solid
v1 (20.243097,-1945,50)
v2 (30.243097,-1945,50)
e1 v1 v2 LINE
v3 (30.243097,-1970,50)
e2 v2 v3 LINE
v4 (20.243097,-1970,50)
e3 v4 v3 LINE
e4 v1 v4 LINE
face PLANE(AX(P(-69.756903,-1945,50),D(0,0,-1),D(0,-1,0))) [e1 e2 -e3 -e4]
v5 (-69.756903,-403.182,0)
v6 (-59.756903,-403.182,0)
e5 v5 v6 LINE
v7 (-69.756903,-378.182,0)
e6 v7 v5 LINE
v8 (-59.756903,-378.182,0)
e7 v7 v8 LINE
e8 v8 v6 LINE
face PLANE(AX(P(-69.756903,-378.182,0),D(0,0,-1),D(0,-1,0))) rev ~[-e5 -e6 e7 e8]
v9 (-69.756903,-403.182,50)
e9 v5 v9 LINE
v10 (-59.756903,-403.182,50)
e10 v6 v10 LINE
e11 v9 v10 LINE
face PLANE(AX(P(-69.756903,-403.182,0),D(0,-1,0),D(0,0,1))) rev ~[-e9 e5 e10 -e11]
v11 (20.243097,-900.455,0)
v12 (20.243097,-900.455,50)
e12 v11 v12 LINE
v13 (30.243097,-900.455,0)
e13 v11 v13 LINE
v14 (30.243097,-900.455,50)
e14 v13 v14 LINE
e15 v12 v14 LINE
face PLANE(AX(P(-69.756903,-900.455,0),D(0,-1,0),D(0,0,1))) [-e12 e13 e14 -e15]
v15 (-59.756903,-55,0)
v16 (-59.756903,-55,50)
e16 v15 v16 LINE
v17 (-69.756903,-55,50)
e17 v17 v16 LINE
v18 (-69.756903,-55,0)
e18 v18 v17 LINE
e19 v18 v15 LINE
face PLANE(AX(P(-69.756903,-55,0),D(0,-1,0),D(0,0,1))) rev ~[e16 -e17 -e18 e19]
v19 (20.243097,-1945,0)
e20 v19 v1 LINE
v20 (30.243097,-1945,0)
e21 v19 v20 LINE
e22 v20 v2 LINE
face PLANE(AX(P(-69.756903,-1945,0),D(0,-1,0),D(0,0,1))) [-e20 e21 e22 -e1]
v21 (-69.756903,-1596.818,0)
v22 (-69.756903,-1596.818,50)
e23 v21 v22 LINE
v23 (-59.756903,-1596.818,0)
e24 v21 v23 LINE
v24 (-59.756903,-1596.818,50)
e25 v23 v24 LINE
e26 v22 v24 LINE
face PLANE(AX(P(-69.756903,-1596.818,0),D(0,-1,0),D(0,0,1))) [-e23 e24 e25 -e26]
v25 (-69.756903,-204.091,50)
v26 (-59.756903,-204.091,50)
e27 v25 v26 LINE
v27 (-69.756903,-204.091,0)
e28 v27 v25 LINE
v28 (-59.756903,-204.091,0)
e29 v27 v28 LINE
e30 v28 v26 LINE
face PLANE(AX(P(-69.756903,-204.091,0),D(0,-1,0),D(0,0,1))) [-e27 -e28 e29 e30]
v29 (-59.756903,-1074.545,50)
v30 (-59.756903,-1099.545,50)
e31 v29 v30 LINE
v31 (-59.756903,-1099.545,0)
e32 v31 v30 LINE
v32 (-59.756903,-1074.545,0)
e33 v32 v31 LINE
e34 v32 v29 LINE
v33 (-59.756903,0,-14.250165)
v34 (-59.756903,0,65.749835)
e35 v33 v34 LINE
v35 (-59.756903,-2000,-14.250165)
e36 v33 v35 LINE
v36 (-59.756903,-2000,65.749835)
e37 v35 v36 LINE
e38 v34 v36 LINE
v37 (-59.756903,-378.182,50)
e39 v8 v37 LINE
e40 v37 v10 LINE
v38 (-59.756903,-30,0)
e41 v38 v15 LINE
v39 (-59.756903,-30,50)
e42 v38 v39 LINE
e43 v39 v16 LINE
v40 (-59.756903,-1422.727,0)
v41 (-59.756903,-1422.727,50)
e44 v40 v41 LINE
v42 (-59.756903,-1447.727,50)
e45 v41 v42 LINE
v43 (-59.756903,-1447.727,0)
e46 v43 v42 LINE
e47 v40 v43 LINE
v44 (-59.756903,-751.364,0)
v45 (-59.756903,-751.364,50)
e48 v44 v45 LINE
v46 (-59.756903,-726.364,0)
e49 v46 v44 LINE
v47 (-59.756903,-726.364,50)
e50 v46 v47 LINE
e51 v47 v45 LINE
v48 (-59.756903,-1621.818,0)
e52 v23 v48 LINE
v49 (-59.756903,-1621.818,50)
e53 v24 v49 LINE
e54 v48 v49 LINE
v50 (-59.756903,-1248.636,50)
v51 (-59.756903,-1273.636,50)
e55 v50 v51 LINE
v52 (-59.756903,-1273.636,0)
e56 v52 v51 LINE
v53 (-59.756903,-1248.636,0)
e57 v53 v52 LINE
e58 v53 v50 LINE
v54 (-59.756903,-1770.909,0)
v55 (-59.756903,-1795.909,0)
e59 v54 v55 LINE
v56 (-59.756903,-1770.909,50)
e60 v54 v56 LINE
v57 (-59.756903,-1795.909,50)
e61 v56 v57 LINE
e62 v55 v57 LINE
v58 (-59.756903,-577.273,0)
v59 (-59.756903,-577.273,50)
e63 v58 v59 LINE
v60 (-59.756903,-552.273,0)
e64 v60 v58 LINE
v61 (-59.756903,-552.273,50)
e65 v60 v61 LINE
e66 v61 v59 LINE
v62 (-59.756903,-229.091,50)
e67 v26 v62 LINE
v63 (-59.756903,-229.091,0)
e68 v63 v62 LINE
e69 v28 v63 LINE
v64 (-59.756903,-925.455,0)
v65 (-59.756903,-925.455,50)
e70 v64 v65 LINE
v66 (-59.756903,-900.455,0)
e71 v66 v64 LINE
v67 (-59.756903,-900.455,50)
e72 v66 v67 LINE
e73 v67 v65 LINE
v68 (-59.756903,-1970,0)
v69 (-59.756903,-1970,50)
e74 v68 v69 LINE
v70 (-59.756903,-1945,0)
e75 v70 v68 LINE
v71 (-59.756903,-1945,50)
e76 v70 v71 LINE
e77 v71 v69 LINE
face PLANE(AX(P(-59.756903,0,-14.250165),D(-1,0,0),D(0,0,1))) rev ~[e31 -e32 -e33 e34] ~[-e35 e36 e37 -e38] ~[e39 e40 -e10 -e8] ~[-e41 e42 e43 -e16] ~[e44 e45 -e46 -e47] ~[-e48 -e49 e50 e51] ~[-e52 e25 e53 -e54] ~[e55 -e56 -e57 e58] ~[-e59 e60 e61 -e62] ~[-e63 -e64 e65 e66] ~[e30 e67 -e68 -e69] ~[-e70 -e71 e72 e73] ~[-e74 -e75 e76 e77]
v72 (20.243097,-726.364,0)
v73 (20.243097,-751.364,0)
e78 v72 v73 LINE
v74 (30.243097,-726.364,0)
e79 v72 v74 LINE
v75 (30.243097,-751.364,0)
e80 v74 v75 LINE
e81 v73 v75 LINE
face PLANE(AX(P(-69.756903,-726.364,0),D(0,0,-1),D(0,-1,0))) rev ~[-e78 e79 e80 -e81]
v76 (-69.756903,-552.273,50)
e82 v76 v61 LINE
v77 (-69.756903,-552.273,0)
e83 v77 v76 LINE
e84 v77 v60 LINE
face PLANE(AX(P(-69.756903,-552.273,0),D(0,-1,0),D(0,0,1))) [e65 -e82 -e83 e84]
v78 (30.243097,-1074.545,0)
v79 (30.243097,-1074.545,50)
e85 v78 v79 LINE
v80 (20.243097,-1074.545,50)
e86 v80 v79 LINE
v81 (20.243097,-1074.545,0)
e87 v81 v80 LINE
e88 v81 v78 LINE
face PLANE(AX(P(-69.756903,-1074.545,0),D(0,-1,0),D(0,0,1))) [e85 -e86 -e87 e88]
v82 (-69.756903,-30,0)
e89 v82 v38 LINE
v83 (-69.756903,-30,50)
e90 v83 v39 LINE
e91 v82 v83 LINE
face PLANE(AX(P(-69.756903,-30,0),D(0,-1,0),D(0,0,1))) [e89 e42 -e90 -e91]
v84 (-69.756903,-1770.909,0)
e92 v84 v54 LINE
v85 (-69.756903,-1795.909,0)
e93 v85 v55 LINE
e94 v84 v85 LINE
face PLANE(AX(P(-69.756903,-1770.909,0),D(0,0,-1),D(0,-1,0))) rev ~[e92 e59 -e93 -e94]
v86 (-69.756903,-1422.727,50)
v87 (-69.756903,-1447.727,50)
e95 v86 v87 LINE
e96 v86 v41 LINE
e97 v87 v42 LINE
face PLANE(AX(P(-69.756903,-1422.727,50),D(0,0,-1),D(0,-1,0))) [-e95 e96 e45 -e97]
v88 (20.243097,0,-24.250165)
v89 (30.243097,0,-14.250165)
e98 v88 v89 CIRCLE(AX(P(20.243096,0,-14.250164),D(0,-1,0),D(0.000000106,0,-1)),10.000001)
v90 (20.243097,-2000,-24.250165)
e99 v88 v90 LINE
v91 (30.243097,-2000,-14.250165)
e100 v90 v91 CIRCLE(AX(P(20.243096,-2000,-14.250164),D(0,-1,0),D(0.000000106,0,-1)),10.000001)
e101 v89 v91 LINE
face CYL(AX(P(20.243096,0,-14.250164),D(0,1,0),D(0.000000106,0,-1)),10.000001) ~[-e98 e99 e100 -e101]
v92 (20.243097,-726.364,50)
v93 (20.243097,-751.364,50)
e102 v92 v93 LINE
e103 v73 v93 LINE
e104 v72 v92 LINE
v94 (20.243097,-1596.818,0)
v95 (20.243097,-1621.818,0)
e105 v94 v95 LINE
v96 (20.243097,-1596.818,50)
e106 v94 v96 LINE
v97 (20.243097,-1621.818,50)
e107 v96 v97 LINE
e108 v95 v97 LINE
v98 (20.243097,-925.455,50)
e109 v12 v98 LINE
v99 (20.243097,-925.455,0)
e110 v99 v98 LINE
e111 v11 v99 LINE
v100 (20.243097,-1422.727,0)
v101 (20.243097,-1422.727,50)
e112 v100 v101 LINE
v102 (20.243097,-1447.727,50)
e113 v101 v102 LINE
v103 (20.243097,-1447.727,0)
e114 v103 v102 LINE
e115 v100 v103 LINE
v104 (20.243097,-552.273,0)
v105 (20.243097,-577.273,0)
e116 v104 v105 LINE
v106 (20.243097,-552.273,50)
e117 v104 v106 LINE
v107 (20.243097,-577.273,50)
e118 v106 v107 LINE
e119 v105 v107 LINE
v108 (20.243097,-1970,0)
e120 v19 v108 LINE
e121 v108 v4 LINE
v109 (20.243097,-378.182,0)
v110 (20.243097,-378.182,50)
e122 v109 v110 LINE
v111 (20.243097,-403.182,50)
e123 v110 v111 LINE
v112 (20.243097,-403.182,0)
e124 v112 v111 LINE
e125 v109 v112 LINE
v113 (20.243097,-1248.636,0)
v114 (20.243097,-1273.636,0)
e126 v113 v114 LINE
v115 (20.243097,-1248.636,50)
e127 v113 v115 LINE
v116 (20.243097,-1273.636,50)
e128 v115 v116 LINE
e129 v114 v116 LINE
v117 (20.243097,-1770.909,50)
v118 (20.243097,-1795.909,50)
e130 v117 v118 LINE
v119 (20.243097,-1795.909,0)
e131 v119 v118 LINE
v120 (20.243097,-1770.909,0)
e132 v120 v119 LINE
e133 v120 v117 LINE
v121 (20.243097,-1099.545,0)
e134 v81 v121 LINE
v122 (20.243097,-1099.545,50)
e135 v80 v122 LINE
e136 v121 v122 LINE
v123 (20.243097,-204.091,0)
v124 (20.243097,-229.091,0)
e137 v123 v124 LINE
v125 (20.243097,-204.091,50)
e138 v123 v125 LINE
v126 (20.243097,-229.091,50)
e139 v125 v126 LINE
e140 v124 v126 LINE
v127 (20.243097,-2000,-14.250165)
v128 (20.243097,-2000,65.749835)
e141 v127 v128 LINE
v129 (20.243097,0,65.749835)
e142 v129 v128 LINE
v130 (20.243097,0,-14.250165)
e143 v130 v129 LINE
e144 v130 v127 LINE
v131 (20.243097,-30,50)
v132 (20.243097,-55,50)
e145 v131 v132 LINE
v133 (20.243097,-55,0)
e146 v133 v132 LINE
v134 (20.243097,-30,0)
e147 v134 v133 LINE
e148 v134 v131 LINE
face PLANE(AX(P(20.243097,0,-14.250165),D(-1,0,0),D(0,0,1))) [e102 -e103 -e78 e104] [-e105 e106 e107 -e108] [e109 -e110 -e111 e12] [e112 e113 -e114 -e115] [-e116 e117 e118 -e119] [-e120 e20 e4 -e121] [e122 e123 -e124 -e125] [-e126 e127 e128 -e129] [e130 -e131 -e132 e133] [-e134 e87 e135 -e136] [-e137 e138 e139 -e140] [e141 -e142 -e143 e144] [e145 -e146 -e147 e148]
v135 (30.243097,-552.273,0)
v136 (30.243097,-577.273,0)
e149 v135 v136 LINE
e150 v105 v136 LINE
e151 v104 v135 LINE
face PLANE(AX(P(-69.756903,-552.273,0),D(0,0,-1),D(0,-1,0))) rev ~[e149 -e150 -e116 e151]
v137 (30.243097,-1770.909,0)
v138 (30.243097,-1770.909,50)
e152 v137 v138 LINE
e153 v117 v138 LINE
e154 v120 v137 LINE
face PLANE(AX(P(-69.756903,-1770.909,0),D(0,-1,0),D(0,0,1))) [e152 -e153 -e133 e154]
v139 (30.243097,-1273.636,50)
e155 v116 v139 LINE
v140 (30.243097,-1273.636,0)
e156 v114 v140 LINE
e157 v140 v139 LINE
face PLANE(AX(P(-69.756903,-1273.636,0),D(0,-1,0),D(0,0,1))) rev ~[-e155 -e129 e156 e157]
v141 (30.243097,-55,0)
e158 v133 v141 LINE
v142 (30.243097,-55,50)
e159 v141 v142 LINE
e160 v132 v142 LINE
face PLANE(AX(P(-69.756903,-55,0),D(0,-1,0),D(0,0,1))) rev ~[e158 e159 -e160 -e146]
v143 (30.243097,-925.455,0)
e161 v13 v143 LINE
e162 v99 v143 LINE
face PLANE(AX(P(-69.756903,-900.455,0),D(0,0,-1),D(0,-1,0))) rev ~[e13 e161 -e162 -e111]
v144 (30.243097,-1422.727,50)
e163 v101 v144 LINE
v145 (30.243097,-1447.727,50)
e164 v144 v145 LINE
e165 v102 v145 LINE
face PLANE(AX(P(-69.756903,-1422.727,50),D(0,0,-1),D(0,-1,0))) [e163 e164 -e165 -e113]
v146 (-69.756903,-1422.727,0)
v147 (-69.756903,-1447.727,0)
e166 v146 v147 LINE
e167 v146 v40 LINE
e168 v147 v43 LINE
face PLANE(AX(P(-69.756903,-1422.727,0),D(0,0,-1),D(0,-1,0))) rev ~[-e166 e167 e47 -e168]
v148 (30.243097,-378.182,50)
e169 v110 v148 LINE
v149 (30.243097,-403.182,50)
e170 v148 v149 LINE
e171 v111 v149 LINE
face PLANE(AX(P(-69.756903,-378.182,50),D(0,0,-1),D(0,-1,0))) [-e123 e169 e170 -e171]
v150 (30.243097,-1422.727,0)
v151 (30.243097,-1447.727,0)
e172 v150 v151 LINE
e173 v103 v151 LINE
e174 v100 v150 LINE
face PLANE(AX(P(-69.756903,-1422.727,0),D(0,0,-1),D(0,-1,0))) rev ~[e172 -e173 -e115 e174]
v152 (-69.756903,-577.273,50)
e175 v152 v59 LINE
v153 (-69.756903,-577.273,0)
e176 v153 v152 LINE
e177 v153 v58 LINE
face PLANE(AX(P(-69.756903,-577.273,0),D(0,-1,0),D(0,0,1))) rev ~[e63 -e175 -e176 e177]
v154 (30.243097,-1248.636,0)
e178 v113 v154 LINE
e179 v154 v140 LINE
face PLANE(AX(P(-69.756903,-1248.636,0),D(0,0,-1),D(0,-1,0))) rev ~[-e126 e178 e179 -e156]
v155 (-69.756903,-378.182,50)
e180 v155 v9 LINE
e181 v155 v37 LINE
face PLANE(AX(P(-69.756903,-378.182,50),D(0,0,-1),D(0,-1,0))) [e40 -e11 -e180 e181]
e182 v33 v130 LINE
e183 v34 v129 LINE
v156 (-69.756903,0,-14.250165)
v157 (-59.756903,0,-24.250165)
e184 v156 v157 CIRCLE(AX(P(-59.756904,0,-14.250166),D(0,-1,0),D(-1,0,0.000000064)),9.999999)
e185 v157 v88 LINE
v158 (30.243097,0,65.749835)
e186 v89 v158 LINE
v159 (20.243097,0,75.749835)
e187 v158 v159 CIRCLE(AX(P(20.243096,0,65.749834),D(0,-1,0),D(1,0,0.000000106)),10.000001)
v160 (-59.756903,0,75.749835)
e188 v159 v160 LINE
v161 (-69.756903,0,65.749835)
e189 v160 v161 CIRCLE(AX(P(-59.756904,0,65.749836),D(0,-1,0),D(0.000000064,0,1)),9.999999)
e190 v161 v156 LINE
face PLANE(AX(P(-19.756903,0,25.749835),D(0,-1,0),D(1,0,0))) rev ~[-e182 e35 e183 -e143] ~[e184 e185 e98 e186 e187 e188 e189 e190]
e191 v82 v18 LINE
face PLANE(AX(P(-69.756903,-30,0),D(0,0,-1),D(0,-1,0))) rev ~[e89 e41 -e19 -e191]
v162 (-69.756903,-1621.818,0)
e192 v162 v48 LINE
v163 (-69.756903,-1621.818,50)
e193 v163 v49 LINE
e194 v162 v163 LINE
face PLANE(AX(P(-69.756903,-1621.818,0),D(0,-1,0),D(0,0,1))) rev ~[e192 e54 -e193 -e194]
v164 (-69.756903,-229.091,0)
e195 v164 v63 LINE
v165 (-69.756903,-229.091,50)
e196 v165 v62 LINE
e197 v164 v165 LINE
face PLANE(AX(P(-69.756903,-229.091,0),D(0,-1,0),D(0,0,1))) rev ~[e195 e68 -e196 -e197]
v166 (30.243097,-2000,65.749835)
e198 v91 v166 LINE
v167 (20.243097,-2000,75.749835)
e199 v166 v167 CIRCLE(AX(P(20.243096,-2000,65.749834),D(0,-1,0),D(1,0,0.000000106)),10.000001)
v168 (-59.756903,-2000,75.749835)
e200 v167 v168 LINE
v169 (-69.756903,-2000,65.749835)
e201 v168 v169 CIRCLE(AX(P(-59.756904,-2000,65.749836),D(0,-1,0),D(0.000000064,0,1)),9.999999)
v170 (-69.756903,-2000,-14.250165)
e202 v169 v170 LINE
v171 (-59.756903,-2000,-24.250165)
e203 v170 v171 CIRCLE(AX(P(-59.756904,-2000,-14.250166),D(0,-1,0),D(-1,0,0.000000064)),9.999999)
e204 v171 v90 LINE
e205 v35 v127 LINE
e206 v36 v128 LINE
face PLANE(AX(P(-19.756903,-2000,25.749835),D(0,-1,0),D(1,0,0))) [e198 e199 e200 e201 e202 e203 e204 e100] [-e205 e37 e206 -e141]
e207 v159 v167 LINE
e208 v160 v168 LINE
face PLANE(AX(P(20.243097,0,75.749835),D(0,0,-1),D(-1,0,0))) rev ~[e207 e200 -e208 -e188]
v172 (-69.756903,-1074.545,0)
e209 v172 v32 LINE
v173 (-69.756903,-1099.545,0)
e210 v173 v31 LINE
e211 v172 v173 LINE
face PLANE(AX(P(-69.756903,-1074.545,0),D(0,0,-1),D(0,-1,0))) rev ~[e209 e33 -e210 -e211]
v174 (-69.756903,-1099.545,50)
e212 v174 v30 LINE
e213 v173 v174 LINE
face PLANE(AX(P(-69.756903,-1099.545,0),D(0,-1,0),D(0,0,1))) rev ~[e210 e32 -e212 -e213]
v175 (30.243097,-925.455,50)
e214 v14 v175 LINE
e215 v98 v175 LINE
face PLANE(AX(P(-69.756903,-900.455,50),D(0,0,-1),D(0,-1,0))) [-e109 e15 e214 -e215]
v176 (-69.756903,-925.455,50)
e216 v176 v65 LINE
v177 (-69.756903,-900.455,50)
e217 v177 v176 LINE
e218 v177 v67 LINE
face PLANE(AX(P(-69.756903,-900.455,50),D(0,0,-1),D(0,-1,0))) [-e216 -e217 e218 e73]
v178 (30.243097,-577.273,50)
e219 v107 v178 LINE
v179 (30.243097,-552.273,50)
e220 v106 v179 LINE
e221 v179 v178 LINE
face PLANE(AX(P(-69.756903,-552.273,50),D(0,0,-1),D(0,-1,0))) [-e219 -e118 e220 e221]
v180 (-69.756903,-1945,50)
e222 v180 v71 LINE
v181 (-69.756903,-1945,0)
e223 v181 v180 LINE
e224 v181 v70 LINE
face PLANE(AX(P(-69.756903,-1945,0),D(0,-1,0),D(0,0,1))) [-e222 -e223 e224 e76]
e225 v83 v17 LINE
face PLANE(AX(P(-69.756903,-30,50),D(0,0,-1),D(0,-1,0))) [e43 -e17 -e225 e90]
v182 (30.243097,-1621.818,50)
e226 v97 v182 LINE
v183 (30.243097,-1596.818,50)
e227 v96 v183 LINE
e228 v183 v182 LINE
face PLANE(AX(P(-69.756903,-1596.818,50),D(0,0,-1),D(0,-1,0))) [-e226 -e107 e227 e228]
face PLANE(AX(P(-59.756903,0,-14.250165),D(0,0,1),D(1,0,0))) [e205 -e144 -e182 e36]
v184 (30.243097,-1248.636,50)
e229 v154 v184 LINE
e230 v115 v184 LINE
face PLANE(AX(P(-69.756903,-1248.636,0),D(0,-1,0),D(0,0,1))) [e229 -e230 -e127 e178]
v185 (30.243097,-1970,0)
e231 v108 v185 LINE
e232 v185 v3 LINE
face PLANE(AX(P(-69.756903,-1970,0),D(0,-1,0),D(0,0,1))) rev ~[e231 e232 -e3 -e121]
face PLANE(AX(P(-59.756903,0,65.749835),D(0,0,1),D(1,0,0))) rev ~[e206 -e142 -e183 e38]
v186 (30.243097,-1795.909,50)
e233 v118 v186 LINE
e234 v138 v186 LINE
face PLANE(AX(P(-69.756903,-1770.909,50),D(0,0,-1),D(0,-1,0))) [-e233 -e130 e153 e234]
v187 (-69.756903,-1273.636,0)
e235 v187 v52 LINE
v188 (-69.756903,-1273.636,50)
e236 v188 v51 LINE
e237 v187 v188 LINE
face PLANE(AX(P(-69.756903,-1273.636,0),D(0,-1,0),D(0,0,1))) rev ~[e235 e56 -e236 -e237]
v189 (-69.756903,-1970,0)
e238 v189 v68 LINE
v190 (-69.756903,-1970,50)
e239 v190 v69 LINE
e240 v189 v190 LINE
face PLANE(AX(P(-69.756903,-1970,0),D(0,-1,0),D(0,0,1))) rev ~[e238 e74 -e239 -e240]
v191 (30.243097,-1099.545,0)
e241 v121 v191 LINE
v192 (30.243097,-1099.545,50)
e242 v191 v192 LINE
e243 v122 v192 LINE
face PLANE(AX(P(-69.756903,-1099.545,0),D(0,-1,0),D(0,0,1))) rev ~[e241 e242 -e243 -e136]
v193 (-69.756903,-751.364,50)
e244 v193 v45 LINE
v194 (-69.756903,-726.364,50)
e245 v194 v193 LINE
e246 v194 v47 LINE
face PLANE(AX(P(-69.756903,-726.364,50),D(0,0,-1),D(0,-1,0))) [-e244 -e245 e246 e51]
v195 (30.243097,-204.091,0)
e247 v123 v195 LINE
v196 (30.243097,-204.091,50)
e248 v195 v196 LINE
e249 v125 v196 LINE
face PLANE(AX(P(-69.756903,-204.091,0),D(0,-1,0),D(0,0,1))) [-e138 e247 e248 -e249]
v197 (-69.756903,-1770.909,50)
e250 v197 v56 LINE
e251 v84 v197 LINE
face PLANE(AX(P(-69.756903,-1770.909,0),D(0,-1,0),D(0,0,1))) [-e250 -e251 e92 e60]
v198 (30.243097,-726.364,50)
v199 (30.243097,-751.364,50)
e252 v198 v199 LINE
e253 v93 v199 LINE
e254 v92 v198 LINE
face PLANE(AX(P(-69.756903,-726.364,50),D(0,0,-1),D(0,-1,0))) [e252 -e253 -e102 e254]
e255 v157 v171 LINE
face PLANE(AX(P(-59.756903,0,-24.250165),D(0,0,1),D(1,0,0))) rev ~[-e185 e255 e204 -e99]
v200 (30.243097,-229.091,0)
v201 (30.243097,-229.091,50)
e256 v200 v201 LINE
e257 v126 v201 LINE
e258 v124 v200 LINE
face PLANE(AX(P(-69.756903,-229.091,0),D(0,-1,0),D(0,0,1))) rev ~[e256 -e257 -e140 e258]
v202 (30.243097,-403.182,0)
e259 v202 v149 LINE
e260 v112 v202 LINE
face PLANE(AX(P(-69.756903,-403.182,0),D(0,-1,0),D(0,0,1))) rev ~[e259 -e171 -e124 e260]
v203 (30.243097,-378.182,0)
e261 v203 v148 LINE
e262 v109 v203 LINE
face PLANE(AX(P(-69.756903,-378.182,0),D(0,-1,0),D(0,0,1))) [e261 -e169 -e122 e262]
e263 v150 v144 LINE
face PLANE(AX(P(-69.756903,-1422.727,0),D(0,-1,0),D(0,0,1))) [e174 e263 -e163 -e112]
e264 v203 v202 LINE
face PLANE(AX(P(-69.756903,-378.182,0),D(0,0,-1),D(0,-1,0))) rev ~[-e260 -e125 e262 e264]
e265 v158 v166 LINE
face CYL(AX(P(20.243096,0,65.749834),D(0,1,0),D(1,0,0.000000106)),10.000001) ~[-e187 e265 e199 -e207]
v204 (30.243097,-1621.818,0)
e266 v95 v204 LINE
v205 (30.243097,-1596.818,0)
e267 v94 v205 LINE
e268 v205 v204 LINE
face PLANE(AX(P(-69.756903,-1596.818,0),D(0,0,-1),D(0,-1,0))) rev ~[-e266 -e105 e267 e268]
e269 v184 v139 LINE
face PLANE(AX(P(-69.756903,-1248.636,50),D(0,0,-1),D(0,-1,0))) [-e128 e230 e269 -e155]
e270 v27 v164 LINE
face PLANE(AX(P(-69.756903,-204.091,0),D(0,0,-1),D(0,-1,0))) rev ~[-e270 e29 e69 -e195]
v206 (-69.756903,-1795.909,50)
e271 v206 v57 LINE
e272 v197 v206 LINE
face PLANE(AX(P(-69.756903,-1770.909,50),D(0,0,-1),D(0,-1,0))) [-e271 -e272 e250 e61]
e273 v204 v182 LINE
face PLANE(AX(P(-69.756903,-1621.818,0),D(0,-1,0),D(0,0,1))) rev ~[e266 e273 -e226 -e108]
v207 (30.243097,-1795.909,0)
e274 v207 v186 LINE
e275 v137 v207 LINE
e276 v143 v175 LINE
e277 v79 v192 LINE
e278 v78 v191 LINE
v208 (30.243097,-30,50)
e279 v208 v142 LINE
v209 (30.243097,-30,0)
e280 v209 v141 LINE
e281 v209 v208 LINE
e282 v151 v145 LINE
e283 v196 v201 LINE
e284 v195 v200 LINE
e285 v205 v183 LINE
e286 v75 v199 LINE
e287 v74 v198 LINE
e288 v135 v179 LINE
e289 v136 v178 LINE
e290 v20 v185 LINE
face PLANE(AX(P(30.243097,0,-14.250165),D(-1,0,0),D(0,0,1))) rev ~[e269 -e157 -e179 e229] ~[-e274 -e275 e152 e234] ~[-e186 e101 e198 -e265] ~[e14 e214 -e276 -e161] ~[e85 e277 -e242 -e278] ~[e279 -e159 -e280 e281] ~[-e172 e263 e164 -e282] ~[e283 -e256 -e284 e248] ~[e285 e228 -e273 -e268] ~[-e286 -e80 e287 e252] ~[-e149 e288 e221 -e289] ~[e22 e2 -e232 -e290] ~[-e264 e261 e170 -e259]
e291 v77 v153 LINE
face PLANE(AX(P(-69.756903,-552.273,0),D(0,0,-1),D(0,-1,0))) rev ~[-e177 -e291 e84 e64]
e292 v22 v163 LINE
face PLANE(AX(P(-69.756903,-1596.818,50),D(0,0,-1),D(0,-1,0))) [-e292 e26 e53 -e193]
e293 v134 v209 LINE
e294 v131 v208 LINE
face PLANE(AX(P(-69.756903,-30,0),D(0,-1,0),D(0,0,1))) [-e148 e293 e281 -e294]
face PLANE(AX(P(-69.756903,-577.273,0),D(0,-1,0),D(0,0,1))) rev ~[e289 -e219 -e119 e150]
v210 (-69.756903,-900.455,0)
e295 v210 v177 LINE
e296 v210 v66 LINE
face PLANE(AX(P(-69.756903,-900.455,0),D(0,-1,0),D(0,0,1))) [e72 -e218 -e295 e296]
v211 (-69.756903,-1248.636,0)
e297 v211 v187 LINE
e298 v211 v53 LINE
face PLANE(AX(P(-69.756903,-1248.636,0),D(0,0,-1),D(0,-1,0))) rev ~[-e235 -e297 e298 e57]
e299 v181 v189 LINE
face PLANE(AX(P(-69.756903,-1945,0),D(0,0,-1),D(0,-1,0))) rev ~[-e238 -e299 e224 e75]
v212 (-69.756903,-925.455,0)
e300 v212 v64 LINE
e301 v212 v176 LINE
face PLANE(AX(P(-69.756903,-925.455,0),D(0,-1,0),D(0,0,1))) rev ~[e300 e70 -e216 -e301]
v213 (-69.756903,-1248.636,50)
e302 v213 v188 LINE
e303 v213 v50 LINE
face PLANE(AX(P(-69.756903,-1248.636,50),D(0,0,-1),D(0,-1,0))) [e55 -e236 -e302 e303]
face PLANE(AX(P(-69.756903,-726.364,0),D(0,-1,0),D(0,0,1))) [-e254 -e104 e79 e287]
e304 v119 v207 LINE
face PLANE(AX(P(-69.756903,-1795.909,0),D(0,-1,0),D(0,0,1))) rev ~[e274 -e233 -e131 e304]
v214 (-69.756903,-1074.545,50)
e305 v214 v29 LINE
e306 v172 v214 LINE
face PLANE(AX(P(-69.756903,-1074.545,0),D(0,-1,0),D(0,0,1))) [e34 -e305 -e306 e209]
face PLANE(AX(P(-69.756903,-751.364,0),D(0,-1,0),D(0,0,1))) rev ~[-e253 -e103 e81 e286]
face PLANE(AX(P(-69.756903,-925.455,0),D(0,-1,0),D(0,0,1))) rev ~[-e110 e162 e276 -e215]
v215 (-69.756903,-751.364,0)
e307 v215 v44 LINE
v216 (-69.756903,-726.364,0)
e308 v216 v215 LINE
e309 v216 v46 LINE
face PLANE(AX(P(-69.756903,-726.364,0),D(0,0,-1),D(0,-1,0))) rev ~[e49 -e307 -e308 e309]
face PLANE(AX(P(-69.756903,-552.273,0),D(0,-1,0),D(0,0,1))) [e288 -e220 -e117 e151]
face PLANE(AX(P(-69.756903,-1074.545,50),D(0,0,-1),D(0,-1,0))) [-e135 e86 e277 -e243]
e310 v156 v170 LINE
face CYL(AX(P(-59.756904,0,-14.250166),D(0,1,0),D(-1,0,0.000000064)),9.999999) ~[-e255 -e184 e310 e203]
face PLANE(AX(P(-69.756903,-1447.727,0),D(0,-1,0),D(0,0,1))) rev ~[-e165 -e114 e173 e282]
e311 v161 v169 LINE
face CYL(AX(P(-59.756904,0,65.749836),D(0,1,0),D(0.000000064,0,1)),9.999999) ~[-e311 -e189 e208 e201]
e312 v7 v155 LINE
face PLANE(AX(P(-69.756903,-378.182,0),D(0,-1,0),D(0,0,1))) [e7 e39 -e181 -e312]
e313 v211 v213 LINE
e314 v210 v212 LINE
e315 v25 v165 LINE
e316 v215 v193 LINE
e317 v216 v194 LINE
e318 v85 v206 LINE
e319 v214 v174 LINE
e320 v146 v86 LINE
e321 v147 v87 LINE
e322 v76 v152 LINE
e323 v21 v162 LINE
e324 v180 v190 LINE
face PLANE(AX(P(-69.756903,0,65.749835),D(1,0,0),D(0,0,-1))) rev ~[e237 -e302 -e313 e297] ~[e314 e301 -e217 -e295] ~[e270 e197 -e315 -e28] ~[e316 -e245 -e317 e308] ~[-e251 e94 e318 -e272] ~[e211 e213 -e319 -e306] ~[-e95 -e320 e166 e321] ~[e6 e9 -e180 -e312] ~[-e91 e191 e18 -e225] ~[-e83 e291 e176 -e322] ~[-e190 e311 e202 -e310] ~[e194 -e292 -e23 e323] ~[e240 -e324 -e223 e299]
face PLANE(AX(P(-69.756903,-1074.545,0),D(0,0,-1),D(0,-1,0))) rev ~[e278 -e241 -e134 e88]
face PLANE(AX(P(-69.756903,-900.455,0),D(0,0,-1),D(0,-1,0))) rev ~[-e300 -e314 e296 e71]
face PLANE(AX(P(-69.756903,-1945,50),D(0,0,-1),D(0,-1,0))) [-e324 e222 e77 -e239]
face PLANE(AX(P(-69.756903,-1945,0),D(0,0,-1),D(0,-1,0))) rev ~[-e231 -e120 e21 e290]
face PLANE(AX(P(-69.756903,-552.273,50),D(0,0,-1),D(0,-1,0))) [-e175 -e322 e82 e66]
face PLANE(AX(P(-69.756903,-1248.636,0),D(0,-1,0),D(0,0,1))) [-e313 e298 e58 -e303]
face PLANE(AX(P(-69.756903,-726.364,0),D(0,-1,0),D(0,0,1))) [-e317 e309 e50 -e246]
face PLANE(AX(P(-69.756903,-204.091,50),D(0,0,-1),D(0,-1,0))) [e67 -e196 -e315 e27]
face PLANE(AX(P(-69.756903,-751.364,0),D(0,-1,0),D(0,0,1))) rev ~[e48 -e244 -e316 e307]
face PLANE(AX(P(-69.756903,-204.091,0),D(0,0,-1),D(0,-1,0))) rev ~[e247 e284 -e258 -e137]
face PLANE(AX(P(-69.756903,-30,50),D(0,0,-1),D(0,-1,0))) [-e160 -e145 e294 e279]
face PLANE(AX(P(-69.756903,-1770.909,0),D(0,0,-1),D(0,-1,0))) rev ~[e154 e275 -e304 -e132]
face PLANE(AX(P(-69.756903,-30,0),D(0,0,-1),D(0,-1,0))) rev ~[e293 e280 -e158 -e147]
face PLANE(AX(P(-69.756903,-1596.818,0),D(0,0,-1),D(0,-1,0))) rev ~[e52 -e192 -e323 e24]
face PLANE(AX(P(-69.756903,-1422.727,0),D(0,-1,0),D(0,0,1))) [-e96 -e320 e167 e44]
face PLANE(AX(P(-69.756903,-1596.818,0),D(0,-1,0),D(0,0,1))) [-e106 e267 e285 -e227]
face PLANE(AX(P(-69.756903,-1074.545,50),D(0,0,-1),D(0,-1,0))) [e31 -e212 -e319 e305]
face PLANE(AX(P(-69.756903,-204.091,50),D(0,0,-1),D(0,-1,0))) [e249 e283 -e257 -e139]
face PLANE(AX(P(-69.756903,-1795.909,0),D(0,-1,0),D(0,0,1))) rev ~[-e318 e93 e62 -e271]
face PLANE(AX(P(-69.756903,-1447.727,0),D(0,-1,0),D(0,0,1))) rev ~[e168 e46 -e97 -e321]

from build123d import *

# Parameters (mm, degrees)
F0_W     = 80
F0_H     = 80
F1_DEPTH = 2000
F2_W     = 25
F2_H     = 50
F3_DEPTH = 100


with BuildPart() as f1:
    # F0 (on Front) → F1 (new body)
    with BuildSketch(Plane.XZ):
        with BuildLine():
            Line((20.243097, 75.749835), (-59.756903, 75.749835))
            ThreePointArc((-59.756903, 75.749835), (-66.827971, 72.820903), (-69.756903, 65.749835))
            Line((-69.756903, 65.749835), (-69.756903, -14.250165))
            ThreePointArc((-69.756903, -14.250165), (-66.827971, -21.321233), (-59.756903, -24.250165))
            Line((-59.756903, -24.250165), (20.243097, -24.250165))
            ThreePointArc((20.243097, -24.250165), (27.314164, -21.321233), (30.243097, -14.250165))
            Line((30.243097, -14.250165), (30.243097, 65.749835))
            ThreePointArc((30.243097, 65.749835), (27.314164, 72.820903), (20.243097, 75.749835))
        make_face()
        with Locations((-19.756903, 25.749835)):
            Rectangle(F0_W, F0_H, mode=Mode.SUBTRACT)
    extrude(amount=F1_DEPTH)

    # F2 (on face) → F3 (cut)
    with BuildSketch(Plane(origin=(-69.756903, 0, 0), x_dir=(0, -1, 0), z_dir=(-1, 0, 0))):
        with Locations((42.5, 25)):
            Rectangle(F2_W, F2_H)
        with Locations((216.591, 25)):
            Rectangle(F2_W, F2_H)
        with Locations((390.682, 25)):
            Rectangle(F2_W, F2_H)
        with Locations((564.773, 25)):
            Rectangle(F2_W, F2_H)
        with Locations((1957.5, 25)):
            Rectangle(F2_W, F2_H)
        with Locations((738.864, 25)):
            Rectangle(F2_W, F2_H)
        with Locations((912.955, 25)):
            Rectangle(F2_W, F2_H)
        with Locations((1087.045, 25)):
            Rectangle(F2_W, F2_H)
        with Locations((1261.136, 25)):
            Rectangle(F2_W, F2_H)
        with Locations((1435.227, 25)):
            Rectangle(F2_W, F2_H)
        with Locations((1609.318, 25)):
            Rectangle(F2_W, F2_H)
        with Locations((1783.409, 25)):
            Rectangle(F2_W, F2_H)
    extrude(amount=-F3_DEPTH, mode=Mode.SUBTRACT)


solid = f1.part
